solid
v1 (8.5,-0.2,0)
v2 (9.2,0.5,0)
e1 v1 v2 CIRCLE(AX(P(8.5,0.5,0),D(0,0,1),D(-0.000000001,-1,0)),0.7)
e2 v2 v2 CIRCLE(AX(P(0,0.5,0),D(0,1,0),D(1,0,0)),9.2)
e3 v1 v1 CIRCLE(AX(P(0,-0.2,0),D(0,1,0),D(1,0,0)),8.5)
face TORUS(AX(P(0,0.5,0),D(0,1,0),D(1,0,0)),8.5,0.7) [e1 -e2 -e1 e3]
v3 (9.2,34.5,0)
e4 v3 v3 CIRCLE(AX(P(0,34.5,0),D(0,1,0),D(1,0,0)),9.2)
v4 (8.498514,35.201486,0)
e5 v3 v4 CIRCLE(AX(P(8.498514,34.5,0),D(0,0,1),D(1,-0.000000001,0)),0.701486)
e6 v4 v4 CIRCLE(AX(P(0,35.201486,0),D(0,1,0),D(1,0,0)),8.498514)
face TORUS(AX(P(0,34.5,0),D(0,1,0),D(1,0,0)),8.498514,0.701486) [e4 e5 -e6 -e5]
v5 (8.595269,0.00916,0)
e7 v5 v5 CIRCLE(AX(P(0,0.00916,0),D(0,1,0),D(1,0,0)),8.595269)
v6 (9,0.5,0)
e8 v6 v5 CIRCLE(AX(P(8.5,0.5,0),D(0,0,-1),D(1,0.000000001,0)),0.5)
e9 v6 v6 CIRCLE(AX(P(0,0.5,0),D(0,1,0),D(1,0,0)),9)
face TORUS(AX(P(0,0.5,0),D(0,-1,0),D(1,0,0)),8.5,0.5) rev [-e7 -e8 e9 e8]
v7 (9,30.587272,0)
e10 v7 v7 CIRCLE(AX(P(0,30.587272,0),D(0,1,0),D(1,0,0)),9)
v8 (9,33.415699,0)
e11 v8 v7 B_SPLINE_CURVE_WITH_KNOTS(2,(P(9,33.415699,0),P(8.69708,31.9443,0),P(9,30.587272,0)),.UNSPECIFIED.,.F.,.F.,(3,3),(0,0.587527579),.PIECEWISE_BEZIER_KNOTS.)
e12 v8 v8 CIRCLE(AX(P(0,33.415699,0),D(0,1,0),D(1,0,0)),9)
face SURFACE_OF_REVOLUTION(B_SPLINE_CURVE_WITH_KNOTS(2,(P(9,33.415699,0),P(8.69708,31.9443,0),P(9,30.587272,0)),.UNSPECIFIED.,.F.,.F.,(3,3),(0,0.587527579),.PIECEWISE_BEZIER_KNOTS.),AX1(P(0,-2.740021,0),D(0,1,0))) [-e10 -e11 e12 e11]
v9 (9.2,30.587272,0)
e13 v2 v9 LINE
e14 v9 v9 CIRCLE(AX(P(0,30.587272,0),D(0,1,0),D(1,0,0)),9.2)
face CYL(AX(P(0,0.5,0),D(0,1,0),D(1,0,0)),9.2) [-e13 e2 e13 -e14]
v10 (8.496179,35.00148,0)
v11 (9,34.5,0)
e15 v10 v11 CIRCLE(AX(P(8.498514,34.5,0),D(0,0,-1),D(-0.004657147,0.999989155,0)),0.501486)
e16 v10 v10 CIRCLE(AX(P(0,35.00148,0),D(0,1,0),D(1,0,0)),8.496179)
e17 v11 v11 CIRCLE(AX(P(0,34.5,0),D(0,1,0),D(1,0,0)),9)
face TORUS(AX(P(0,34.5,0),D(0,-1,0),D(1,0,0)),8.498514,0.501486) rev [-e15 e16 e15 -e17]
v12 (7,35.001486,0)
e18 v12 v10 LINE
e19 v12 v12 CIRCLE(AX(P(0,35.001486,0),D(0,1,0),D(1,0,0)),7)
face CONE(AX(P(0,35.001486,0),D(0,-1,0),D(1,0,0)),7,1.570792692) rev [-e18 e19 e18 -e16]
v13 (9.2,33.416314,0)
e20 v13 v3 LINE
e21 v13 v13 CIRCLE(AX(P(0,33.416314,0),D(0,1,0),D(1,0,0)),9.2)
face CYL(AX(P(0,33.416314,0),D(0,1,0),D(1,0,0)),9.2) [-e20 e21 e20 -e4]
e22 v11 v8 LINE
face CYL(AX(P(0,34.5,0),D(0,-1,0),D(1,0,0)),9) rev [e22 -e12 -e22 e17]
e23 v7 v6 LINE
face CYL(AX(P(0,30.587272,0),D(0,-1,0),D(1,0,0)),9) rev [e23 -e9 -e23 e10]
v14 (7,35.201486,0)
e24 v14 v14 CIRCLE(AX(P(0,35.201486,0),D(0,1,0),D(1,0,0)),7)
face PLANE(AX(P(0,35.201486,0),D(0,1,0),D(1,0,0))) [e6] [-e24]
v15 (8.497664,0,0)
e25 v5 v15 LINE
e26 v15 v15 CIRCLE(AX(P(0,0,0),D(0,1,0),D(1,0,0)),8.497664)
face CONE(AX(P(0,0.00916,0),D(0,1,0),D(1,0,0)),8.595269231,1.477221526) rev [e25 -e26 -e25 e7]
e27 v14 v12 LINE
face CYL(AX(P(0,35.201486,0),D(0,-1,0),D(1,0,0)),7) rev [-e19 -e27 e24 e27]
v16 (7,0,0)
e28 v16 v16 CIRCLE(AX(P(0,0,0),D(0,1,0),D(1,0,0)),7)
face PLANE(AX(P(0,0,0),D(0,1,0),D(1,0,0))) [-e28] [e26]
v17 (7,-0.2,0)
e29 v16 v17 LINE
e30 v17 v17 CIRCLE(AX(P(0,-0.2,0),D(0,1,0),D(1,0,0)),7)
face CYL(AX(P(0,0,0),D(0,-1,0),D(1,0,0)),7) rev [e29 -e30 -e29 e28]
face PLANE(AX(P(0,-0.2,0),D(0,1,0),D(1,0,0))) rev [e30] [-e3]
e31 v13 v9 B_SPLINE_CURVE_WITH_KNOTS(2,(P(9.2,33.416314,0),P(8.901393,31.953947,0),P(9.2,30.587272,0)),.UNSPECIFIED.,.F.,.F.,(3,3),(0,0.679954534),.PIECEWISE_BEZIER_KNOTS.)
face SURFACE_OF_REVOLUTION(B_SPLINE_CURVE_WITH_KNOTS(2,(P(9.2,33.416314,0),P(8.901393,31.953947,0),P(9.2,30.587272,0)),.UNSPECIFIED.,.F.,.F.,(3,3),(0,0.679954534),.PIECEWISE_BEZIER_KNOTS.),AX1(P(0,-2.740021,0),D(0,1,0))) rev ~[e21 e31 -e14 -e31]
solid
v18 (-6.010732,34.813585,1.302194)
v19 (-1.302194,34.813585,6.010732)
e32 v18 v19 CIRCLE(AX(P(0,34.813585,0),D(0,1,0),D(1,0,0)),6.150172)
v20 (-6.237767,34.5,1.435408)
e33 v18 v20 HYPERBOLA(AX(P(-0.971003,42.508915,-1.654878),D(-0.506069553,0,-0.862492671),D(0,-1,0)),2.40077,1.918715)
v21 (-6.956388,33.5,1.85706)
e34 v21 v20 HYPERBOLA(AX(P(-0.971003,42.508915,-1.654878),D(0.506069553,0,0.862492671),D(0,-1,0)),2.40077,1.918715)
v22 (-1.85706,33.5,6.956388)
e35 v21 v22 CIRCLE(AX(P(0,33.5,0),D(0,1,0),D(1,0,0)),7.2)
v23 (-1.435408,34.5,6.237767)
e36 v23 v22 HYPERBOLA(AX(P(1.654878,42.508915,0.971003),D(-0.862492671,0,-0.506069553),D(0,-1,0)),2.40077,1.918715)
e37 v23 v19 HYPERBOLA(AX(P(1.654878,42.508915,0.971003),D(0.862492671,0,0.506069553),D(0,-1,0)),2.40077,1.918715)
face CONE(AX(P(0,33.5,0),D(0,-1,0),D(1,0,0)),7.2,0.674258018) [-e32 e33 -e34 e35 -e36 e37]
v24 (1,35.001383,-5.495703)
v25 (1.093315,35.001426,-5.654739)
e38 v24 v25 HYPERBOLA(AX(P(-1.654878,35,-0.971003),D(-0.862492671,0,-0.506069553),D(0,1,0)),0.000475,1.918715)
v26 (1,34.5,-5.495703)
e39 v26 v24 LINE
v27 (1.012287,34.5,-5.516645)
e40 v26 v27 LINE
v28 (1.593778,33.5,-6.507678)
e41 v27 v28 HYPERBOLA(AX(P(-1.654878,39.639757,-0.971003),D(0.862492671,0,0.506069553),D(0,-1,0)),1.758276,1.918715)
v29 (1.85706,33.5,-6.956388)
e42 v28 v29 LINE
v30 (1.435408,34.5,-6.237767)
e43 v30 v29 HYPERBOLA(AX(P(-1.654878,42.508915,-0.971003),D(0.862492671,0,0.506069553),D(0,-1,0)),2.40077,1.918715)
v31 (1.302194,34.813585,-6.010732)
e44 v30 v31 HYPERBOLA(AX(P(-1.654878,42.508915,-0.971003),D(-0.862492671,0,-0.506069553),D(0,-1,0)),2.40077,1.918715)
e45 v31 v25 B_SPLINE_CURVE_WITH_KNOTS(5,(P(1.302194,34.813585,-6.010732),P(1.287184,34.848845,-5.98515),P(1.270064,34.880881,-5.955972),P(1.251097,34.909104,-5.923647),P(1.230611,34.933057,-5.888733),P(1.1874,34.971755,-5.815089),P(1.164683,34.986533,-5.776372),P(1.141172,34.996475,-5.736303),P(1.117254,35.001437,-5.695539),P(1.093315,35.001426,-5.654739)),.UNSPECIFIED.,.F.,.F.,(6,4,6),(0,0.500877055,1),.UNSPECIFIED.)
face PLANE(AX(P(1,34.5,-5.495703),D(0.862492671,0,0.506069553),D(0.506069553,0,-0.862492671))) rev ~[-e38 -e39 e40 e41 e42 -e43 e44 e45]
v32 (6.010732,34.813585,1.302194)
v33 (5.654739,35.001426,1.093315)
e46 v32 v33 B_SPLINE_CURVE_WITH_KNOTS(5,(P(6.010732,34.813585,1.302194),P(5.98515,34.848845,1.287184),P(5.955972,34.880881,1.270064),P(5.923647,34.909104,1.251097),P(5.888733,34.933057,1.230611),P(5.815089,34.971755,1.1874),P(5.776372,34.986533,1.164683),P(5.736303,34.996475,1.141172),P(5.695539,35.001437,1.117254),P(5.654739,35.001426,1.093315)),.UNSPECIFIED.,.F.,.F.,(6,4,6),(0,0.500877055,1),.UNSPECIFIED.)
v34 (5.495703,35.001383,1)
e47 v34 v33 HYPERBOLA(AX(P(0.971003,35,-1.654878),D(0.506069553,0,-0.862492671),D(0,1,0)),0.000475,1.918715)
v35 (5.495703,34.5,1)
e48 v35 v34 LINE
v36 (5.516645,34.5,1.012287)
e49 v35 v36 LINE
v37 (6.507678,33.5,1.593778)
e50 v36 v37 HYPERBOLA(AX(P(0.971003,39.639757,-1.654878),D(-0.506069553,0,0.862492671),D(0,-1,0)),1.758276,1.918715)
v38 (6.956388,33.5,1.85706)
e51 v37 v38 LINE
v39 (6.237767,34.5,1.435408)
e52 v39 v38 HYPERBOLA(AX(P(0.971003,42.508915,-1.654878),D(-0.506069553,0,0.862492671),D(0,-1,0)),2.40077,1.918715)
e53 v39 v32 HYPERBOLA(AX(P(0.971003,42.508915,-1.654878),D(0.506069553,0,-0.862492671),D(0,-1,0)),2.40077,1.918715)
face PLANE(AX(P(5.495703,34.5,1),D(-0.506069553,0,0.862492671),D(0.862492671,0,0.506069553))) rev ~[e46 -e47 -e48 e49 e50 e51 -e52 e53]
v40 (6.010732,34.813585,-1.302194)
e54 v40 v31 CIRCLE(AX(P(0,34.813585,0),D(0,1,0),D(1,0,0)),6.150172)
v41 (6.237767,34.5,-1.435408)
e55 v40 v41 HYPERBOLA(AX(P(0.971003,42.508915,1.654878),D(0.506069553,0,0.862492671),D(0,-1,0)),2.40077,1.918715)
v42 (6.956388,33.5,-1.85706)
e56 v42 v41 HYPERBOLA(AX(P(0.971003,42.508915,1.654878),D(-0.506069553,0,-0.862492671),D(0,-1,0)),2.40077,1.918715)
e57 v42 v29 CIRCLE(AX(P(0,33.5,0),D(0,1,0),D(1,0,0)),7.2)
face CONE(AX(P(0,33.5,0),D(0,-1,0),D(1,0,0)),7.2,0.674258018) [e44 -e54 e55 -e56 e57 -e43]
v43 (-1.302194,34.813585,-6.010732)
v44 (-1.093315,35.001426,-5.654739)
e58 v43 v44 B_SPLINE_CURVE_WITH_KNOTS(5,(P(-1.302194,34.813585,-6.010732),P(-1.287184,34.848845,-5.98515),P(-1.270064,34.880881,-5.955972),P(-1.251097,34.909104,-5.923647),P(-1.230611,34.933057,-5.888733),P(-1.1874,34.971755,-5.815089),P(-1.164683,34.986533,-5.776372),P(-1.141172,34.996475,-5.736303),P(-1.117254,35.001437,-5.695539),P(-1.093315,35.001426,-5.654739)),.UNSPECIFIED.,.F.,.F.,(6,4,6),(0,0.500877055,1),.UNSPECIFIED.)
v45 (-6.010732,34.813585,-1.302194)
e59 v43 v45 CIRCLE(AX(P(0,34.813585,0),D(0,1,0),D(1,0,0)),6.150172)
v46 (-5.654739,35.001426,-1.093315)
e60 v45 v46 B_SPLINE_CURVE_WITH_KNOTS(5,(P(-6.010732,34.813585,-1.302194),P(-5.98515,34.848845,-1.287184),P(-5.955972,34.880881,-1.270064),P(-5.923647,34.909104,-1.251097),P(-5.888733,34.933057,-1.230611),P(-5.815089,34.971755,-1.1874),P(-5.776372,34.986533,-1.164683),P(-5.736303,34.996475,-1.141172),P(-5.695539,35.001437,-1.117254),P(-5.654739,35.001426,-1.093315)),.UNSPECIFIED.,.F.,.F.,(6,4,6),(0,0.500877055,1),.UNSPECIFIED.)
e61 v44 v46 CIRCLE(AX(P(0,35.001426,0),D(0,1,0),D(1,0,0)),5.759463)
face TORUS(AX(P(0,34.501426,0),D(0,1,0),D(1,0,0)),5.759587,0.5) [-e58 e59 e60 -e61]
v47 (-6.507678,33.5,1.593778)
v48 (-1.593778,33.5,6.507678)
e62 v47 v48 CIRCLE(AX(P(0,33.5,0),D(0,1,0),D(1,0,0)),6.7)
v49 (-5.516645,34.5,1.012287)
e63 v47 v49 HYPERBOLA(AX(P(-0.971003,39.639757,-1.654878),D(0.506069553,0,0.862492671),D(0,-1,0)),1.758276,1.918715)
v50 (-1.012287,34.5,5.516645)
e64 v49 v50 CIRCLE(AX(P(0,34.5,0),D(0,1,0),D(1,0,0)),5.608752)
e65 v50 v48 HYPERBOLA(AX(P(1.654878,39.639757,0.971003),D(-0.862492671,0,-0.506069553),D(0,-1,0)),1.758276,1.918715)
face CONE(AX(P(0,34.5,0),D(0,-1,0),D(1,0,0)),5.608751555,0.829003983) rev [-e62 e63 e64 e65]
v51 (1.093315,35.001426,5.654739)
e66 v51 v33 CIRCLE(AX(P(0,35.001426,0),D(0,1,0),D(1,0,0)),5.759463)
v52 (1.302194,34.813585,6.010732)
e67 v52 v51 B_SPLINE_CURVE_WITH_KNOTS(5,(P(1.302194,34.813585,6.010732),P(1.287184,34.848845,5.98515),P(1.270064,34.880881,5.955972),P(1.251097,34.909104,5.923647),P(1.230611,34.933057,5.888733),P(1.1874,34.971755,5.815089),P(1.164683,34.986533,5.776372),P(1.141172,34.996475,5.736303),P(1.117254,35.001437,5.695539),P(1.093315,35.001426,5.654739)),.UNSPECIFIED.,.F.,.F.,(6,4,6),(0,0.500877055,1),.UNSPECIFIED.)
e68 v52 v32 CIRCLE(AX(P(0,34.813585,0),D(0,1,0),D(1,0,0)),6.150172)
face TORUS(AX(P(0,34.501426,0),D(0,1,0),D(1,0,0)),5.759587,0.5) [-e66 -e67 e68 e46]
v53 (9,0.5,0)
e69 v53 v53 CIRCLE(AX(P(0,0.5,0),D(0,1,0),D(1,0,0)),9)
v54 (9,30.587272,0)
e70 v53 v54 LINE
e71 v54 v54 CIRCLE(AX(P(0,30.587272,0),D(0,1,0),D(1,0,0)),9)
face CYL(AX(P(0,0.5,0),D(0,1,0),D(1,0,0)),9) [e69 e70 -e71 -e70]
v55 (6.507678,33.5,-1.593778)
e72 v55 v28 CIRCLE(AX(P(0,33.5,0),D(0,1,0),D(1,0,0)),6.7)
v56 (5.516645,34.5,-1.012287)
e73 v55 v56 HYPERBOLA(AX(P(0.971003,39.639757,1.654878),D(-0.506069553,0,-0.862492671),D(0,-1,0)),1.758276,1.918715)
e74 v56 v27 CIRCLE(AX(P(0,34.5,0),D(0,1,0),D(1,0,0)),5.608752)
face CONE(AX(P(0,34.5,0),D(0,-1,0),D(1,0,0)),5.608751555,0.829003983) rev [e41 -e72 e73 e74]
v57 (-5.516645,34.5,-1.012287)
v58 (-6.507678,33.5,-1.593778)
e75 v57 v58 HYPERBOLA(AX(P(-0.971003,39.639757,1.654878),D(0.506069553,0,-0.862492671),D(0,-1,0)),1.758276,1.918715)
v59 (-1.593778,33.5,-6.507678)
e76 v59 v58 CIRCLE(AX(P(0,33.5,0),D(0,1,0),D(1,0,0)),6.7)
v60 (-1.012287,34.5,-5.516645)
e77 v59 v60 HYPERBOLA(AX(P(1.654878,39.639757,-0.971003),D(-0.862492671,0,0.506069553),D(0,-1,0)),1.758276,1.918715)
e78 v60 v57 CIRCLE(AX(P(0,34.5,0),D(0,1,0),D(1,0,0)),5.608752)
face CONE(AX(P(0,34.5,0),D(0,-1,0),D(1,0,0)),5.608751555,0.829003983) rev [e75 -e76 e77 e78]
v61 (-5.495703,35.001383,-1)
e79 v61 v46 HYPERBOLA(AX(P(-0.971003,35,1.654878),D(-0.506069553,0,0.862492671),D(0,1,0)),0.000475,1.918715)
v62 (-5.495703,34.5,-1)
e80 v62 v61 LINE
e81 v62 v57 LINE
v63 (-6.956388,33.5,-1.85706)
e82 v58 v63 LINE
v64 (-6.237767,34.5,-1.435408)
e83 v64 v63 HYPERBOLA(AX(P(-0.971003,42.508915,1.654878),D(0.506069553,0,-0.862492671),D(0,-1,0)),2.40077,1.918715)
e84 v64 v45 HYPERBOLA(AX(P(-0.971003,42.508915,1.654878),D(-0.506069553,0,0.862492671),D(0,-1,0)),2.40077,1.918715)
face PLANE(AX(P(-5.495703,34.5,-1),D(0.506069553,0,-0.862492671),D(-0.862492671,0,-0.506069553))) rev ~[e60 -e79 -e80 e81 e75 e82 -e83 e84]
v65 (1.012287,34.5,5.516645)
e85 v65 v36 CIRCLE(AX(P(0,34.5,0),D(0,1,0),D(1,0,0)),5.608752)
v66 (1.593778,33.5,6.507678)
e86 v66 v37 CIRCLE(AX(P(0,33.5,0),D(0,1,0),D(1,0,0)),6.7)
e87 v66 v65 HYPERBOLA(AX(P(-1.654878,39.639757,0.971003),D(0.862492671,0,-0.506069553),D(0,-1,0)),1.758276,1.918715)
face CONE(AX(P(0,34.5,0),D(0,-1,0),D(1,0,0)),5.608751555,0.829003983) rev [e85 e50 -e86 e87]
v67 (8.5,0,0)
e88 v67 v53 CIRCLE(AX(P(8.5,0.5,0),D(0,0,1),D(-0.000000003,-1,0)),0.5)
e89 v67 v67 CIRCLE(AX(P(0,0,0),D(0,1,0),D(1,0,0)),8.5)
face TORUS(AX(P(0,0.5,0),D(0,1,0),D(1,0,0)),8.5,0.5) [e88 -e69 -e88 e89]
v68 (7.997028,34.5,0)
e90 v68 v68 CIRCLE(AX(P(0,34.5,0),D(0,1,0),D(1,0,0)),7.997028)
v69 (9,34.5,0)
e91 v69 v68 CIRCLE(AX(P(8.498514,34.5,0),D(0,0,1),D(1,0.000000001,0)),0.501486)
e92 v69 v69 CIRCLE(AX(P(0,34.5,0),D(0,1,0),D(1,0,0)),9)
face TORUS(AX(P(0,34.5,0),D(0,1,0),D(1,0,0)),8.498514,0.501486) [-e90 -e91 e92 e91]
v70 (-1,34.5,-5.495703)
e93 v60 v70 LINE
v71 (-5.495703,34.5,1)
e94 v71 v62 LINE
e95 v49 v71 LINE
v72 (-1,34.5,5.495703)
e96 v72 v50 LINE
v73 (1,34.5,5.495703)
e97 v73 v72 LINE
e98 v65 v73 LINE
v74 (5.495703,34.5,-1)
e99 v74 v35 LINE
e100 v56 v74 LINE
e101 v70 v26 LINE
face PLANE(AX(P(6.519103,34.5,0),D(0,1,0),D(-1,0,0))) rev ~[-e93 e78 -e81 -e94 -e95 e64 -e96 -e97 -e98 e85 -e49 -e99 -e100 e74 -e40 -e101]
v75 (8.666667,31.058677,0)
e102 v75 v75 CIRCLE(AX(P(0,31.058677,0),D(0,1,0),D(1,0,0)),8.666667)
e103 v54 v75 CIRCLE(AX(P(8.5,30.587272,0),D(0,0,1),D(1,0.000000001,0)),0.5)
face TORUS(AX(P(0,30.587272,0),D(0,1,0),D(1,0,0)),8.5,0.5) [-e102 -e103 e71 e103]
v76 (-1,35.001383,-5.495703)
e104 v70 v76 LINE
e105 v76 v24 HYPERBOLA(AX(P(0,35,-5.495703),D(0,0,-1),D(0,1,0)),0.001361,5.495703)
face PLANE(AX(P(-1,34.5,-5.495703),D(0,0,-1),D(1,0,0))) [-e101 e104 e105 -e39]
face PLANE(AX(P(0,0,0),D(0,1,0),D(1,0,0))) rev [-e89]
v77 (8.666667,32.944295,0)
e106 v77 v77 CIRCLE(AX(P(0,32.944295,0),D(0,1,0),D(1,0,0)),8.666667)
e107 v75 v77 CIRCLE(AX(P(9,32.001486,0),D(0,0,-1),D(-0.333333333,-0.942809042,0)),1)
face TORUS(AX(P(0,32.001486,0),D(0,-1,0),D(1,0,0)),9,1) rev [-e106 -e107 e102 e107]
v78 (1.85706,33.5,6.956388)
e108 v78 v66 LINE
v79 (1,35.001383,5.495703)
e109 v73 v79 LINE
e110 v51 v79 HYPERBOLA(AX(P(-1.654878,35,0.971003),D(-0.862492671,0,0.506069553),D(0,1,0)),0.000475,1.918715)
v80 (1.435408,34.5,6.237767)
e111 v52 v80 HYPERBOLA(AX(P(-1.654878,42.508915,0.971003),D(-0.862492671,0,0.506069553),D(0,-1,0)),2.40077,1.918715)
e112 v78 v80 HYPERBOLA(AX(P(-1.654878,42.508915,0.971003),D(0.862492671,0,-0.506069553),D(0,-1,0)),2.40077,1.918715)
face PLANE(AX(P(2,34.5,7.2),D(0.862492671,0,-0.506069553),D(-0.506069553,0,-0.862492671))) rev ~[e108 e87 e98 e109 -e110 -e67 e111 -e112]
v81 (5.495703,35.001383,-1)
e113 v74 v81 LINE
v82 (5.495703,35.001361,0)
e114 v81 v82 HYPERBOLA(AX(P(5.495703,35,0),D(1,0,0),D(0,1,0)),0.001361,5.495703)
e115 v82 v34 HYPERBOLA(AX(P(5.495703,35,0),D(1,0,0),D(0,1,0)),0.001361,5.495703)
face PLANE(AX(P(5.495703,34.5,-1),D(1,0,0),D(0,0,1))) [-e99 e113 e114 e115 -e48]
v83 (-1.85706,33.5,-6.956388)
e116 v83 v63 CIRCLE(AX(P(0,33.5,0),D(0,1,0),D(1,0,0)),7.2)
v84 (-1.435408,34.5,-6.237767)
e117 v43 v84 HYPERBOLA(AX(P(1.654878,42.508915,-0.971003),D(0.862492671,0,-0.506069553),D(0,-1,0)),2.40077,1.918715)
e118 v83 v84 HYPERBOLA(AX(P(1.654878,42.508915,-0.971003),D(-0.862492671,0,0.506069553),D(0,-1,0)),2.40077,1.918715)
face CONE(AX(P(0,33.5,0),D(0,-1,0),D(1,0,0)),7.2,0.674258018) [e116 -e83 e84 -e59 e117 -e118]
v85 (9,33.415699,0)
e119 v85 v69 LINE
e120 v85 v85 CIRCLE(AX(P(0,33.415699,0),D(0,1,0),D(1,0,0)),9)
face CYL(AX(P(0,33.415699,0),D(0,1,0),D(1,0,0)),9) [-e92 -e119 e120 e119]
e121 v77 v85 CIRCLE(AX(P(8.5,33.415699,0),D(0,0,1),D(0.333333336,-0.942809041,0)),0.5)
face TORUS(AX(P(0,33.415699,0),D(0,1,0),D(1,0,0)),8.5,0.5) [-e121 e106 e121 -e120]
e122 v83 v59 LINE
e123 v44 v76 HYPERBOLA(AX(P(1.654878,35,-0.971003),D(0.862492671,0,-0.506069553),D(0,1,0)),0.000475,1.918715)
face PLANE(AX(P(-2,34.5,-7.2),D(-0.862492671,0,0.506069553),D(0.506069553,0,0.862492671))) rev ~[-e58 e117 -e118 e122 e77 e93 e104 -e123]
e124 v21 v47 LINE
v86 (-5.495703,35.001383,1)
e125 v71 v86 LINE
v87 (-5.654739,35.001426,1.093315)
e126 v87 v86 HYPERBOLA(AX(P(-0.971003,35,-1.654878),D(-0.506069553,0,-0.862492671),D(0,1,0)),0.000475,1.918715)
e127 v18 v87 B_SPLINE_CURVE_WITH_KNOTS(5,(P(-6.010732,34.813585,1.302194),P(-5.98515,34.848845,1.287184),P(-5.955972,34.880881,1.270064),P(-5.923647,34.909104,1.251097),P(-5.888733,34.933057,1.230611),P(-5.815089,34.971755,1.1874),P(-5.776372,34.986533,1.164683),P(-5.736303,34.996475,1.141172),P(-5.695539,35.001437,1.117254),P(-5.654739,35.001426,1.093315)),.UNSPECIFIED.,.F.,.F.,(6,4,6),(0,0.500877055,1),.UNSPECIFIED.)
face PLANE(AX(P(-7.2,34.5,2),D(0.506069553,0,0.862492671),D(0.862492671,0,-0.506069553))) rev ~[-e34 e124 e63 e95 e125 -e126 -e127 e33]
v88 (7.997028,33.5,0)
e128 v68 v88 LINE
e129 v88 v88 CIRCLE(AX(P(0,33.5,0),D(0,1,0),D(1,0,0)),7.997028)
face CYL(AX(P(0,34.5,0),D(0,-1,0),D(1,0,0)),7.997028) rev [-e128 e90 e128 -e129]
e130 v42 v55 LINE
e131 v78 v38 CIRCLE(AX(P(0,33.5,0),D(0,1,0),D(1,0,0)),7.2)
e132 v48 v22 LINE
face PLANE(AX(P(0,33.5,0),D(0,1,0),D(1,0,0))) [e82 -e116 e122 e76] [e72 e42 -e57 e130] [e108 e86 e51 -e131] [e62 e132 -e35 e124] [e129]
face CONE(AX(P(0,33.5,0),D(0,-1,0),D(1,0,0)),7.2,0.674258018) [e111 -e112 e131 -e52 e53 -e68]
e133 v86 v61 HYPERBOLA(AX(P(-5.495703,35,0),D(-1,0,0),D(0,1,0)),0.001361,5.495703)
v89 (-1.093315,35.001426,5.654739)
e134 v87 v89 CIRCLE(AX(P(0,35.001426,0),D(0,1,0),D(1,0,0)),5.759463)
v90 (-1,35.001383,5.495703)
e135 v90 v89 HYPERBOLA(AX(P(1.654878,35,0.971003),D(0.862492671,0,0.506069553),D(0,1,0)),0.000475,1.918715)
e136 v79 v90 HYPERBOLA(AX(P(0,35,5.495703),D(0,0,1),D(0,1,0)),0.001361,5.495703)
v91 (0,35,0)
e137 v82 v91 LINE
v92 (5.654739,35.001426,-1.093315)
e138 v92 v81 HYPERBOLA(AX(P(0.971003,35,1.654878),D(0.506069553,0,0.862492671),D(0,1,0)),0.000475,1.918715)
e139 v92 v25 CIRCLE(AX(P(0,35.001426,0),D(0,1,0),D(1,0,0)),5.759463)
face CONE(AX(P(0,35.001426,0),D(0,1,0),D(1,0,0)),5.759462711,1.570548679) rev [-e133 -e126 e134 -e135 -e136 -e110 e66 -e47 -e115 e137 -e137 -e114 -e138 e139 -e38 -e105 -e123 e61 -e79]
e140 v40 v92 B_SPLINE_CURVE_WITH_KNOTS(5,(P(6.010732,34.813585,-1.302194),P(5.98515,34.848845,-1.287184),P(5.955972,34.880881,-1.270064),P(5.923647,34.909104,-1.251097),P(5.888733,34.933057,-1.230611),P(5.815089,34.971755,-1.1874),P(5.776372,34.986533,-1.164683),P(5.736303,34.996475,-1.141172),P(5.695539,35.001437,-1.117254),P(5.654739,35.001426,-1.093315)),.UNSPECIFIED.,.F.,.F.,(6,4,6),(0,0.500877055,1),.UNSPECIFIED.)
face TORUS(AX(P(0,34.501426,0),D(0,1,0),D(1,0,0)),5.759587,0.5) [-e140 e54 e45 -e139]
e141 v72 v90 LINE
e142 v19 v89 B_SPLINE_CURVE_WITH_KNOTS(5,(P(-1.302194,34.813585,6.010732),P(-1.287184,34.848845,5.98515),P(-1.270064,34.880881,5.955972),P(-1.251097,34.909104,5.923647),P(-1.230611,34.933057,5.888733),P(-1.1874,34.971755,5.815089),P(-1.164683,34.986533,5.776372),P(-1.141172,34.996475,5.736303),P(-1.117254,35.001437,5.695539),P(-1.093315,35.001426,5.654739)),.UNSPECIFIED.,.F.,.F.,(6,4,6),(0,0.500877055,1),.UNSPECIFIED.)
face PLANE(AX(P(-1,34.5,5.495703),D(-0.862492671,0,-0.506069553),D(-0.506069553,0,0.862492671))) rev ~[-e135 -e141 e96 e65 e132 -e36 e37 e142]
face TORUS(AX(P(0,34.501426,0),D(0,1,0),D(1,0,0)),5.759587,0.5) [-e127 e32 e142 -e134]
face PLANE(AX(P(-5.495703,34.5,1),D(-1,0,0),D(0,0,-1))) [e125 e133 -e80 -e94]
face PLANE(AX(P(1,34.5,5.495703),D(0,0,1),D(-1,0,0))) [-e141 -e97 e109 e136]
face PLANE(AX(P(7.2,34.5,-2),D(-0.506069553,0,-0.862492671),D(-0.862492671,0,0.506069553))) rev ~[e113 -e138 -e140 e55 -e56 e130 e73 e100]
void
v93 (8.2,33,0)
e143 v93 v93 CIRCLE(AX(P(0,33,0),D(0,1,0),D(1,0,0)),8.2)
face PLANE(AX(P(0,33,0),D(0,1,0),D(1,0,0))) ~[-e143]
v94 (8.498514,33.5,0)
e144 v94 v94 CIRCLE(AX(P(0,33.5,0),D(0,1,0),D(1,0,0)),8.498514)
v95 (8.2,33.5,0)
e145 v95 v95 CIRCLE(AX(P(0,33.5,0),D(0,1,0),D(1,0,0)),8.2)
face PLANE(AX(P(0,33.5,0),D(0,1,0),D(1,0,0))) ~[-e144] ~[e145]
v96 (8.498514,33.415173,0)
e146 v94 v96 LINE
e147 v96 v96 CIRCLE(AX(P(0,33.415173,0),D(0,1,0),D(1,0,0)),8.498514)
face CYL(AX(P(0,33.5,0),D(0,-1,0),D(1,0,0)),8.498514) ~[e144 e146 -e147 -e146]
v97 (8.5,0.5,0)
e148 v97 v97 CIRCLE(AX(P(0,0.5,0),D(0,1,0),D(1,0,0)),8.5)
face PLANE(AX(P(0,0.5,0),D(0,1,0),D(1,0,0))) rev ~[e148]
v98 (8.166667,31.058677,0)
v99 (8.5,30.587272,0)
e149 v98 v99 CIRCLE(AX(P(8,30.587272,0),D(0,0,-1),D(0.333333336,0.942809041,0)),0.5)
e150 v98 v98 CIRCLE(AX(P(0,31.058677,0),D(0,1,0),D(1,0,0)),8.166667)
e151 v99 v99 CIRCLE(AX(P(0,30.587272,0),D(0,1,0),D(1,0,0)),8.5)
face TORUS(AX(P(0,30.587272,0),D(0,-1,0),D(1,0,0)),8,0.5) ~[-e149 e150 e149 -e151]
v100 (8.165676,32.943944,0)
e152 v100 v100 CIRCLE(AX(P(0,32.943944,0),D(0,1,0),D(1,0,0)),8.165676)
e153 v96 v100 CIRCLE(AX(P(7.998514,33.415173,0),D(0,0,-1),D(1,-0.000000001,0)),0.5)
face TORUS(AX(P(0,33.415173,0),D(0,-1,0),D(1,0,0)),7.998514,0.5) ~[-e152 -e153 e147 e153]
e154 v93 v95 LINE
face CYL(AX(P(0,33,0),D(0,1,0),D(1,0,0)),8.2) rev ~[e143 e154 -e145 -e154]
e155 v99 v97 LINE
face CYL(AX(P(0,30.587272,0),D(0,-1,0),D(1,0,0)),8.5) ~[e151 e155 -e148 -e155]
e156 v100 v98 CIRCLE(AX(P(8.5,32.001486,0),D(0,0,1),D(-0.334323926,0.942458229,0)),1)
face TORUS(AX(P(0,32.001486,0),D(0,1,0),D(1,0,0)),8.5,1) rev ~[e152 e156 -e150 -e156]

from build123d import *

# Parameters (mm, degrees)
CUT_EXTRUDE_1_DEPTH      = 1
CUT_EXTRUDE_1_DEPTH_BACK = 1.501485988


with BuildPart() as part:
    # Эскиз1 → Повернуть1 (revolve)
    with BuildSketch(Plane.XY):
        with BuildLine():
            Line((0, 0.5), (0, 0))
            Line((0, 0), (8.5, 0))
            ThreePointArc((8.5, 0), (8.853553391, 0.146446609), (9, 0.5))
            Line((9, 0.5), (9, 30.587272326))
            ThreePointArc((9, 30.587272326), (8.90824829, 30.875947461), (8.666666667, 31.058676847))
            ThreePointArc((8.666666667, 31.058676847), (8, 32.001485888), (8.666666667, 32.94429493))
            ThreePointArc((8.666666667, 32.94429493), (8.90824829, 33.127024316), (9, 33.415699451))
            Line((9, 33.415699451), (9, 34.5))
            ThreePointArc((9, 34.5), (8.498514112, 35.001485888), (7.997028223, 34.5))
            Line((7.997028223, 34.5), (7.997028223, 33.5))
            Line((7.997028223, 33.5), (7.2, 33.5))
            Line((7.2, 33.5), (6.150171734, 34.813585272))
            ThreePointArc((6.150171734, 34.813585272), (5.976233912, 34.95205247), (5.759462711, 35.00142632))
            Line((5.759462711, 35.00142632), (0, 35))
            Line((0, 35), (0, 34.5))
            Line((0, 34.5), (5.608751555, 34.5))
            Line((5.608751555, 34.5), (6.7, 33.5))
            Line((6.7, 33.5), (0, 33.5))
            Line((0, 33.5), (0, 33))
            Line((0, 33), (8.2, 33))
            Line((8.2, 33), (8.2, 33.5))
            Line((8.2, 33.5), (8.498514112, 33.5))
            Line((8.498514112, 33.5), (8.498514112, 33.415173231))
            ThreePointArc((8.498514112, 33.415173231), (8.406914027, 33.126712646), (8.165676074, 32.943944117))
            ThreePointArc((8.165676074, 32.943944117), (7.500000138, 32.00096045), (8.166666667, 31.058676847))
            ThreePointArc((8.166666667, 31.058676847), (8.40824829, 30.875947461), (8.5, 30.587272326))
            Line((8.5, 30.587272326), (8.5, 0.5))
            Line((8.5, 0.5), (0, 0.5))
        make_face()
    revolve(axis=Axis((0, 0, 0), (0, 1, 0)))

    # Эскиз2 → Вырез-Вытянуть1 (cut, two sides)
    with BuildSketch(Plane.XZ.offset(-34.5)) as cut_extrude_1_sk:
        Polygon((-1, -5.495703298), (1, -5.495703298), (2, -7.2), (-2, -7.2), align=None)
        Polygon((-5.495703298, 1), (-5.495703298, -1), (-7.2, -2), (-7.2, 2), align=None)
        Polygon((1, 5.495703298), (-1, 5.495703298), (-2, 7.2), (2, 7.2), align=None)
        Polygon((5.495703298, -1), (5.495703298, 1), (7.2, 2), (7.2, -2), align=None)
    extrude(amount=CUT_EXTRUDE_1_DEPTH, mode=Mode.SUBTRACT)
    extrude(cut_extrude_1_sk.sketch, amount=-CUT_EXTRUDE_1_DEPTH_BACK, mode=Mode.SUBTRACT)


with BuildPart() as body_2:
    # Эскиз3 → Повернуть4 (revolve)
    with BuildSketch(Plane.XY):
        with BuildLine():
            Line((8.497664073, 0), (7, 0))
            Line((7, 0), (7, -0.2))
            Line((7, -0.2), (8.5, -0.2))
            ThreePointArc((8.5, -0.2), (8.994974747, 0.005025253), (9.2, 0.5))
            Line((9.2, 0.5), (9.2, 30.587272326))
            add(Edge.make_bspline(
                [(9.2, 33.416313782), (8.901392965, 31.953947415), (9.2, 30.587272326)],
                knots=[0, 0, 0, 0.679954534, 0.679954534, 0.679954534], degree=2))
            Line((9.2, 33.416313782), (9.2, 34.5))
            ThreePointArc((9.2, 34.5), (8.99453954, 34.996025429), (8.498514112, 35.201485888))
            Line((8.498514112, 35.201485888), (7, 35.201485888))
            Line((7, 35.201485888), (7, 35.001485888))
            Line((7, 35.001485888), (8.496178619, 35.00148045))
            ThreePointArc((8.496178619, 35.00148045), (8.852291499, 34.855428835), (9, 34.5))
            Line((9, 34.5), (9, 33.415699451))
            add(Edge.make_bspline(
                [(9, 33.415699451), (8.697080045, 31.944299731), (9, 30.587272326)],
                knots=[0, 0, 0, 0.587527579, 0.587527579, 0.587527579], degree=2))
            Line((9, 30.587272326), (9, 0.5))
            ThreePointArc((9, 0.5), (8.885768464, 0.18190773), (8.595269231, 0.009160135))
            Line((8.595269231, 0.009160135), (8.497664073, 0))
        make_face()
    revolve(axis=Axis((0, -2.74002086, 0), (0, 1, 0)))


solid = Compound([part.part, body_2.part])
